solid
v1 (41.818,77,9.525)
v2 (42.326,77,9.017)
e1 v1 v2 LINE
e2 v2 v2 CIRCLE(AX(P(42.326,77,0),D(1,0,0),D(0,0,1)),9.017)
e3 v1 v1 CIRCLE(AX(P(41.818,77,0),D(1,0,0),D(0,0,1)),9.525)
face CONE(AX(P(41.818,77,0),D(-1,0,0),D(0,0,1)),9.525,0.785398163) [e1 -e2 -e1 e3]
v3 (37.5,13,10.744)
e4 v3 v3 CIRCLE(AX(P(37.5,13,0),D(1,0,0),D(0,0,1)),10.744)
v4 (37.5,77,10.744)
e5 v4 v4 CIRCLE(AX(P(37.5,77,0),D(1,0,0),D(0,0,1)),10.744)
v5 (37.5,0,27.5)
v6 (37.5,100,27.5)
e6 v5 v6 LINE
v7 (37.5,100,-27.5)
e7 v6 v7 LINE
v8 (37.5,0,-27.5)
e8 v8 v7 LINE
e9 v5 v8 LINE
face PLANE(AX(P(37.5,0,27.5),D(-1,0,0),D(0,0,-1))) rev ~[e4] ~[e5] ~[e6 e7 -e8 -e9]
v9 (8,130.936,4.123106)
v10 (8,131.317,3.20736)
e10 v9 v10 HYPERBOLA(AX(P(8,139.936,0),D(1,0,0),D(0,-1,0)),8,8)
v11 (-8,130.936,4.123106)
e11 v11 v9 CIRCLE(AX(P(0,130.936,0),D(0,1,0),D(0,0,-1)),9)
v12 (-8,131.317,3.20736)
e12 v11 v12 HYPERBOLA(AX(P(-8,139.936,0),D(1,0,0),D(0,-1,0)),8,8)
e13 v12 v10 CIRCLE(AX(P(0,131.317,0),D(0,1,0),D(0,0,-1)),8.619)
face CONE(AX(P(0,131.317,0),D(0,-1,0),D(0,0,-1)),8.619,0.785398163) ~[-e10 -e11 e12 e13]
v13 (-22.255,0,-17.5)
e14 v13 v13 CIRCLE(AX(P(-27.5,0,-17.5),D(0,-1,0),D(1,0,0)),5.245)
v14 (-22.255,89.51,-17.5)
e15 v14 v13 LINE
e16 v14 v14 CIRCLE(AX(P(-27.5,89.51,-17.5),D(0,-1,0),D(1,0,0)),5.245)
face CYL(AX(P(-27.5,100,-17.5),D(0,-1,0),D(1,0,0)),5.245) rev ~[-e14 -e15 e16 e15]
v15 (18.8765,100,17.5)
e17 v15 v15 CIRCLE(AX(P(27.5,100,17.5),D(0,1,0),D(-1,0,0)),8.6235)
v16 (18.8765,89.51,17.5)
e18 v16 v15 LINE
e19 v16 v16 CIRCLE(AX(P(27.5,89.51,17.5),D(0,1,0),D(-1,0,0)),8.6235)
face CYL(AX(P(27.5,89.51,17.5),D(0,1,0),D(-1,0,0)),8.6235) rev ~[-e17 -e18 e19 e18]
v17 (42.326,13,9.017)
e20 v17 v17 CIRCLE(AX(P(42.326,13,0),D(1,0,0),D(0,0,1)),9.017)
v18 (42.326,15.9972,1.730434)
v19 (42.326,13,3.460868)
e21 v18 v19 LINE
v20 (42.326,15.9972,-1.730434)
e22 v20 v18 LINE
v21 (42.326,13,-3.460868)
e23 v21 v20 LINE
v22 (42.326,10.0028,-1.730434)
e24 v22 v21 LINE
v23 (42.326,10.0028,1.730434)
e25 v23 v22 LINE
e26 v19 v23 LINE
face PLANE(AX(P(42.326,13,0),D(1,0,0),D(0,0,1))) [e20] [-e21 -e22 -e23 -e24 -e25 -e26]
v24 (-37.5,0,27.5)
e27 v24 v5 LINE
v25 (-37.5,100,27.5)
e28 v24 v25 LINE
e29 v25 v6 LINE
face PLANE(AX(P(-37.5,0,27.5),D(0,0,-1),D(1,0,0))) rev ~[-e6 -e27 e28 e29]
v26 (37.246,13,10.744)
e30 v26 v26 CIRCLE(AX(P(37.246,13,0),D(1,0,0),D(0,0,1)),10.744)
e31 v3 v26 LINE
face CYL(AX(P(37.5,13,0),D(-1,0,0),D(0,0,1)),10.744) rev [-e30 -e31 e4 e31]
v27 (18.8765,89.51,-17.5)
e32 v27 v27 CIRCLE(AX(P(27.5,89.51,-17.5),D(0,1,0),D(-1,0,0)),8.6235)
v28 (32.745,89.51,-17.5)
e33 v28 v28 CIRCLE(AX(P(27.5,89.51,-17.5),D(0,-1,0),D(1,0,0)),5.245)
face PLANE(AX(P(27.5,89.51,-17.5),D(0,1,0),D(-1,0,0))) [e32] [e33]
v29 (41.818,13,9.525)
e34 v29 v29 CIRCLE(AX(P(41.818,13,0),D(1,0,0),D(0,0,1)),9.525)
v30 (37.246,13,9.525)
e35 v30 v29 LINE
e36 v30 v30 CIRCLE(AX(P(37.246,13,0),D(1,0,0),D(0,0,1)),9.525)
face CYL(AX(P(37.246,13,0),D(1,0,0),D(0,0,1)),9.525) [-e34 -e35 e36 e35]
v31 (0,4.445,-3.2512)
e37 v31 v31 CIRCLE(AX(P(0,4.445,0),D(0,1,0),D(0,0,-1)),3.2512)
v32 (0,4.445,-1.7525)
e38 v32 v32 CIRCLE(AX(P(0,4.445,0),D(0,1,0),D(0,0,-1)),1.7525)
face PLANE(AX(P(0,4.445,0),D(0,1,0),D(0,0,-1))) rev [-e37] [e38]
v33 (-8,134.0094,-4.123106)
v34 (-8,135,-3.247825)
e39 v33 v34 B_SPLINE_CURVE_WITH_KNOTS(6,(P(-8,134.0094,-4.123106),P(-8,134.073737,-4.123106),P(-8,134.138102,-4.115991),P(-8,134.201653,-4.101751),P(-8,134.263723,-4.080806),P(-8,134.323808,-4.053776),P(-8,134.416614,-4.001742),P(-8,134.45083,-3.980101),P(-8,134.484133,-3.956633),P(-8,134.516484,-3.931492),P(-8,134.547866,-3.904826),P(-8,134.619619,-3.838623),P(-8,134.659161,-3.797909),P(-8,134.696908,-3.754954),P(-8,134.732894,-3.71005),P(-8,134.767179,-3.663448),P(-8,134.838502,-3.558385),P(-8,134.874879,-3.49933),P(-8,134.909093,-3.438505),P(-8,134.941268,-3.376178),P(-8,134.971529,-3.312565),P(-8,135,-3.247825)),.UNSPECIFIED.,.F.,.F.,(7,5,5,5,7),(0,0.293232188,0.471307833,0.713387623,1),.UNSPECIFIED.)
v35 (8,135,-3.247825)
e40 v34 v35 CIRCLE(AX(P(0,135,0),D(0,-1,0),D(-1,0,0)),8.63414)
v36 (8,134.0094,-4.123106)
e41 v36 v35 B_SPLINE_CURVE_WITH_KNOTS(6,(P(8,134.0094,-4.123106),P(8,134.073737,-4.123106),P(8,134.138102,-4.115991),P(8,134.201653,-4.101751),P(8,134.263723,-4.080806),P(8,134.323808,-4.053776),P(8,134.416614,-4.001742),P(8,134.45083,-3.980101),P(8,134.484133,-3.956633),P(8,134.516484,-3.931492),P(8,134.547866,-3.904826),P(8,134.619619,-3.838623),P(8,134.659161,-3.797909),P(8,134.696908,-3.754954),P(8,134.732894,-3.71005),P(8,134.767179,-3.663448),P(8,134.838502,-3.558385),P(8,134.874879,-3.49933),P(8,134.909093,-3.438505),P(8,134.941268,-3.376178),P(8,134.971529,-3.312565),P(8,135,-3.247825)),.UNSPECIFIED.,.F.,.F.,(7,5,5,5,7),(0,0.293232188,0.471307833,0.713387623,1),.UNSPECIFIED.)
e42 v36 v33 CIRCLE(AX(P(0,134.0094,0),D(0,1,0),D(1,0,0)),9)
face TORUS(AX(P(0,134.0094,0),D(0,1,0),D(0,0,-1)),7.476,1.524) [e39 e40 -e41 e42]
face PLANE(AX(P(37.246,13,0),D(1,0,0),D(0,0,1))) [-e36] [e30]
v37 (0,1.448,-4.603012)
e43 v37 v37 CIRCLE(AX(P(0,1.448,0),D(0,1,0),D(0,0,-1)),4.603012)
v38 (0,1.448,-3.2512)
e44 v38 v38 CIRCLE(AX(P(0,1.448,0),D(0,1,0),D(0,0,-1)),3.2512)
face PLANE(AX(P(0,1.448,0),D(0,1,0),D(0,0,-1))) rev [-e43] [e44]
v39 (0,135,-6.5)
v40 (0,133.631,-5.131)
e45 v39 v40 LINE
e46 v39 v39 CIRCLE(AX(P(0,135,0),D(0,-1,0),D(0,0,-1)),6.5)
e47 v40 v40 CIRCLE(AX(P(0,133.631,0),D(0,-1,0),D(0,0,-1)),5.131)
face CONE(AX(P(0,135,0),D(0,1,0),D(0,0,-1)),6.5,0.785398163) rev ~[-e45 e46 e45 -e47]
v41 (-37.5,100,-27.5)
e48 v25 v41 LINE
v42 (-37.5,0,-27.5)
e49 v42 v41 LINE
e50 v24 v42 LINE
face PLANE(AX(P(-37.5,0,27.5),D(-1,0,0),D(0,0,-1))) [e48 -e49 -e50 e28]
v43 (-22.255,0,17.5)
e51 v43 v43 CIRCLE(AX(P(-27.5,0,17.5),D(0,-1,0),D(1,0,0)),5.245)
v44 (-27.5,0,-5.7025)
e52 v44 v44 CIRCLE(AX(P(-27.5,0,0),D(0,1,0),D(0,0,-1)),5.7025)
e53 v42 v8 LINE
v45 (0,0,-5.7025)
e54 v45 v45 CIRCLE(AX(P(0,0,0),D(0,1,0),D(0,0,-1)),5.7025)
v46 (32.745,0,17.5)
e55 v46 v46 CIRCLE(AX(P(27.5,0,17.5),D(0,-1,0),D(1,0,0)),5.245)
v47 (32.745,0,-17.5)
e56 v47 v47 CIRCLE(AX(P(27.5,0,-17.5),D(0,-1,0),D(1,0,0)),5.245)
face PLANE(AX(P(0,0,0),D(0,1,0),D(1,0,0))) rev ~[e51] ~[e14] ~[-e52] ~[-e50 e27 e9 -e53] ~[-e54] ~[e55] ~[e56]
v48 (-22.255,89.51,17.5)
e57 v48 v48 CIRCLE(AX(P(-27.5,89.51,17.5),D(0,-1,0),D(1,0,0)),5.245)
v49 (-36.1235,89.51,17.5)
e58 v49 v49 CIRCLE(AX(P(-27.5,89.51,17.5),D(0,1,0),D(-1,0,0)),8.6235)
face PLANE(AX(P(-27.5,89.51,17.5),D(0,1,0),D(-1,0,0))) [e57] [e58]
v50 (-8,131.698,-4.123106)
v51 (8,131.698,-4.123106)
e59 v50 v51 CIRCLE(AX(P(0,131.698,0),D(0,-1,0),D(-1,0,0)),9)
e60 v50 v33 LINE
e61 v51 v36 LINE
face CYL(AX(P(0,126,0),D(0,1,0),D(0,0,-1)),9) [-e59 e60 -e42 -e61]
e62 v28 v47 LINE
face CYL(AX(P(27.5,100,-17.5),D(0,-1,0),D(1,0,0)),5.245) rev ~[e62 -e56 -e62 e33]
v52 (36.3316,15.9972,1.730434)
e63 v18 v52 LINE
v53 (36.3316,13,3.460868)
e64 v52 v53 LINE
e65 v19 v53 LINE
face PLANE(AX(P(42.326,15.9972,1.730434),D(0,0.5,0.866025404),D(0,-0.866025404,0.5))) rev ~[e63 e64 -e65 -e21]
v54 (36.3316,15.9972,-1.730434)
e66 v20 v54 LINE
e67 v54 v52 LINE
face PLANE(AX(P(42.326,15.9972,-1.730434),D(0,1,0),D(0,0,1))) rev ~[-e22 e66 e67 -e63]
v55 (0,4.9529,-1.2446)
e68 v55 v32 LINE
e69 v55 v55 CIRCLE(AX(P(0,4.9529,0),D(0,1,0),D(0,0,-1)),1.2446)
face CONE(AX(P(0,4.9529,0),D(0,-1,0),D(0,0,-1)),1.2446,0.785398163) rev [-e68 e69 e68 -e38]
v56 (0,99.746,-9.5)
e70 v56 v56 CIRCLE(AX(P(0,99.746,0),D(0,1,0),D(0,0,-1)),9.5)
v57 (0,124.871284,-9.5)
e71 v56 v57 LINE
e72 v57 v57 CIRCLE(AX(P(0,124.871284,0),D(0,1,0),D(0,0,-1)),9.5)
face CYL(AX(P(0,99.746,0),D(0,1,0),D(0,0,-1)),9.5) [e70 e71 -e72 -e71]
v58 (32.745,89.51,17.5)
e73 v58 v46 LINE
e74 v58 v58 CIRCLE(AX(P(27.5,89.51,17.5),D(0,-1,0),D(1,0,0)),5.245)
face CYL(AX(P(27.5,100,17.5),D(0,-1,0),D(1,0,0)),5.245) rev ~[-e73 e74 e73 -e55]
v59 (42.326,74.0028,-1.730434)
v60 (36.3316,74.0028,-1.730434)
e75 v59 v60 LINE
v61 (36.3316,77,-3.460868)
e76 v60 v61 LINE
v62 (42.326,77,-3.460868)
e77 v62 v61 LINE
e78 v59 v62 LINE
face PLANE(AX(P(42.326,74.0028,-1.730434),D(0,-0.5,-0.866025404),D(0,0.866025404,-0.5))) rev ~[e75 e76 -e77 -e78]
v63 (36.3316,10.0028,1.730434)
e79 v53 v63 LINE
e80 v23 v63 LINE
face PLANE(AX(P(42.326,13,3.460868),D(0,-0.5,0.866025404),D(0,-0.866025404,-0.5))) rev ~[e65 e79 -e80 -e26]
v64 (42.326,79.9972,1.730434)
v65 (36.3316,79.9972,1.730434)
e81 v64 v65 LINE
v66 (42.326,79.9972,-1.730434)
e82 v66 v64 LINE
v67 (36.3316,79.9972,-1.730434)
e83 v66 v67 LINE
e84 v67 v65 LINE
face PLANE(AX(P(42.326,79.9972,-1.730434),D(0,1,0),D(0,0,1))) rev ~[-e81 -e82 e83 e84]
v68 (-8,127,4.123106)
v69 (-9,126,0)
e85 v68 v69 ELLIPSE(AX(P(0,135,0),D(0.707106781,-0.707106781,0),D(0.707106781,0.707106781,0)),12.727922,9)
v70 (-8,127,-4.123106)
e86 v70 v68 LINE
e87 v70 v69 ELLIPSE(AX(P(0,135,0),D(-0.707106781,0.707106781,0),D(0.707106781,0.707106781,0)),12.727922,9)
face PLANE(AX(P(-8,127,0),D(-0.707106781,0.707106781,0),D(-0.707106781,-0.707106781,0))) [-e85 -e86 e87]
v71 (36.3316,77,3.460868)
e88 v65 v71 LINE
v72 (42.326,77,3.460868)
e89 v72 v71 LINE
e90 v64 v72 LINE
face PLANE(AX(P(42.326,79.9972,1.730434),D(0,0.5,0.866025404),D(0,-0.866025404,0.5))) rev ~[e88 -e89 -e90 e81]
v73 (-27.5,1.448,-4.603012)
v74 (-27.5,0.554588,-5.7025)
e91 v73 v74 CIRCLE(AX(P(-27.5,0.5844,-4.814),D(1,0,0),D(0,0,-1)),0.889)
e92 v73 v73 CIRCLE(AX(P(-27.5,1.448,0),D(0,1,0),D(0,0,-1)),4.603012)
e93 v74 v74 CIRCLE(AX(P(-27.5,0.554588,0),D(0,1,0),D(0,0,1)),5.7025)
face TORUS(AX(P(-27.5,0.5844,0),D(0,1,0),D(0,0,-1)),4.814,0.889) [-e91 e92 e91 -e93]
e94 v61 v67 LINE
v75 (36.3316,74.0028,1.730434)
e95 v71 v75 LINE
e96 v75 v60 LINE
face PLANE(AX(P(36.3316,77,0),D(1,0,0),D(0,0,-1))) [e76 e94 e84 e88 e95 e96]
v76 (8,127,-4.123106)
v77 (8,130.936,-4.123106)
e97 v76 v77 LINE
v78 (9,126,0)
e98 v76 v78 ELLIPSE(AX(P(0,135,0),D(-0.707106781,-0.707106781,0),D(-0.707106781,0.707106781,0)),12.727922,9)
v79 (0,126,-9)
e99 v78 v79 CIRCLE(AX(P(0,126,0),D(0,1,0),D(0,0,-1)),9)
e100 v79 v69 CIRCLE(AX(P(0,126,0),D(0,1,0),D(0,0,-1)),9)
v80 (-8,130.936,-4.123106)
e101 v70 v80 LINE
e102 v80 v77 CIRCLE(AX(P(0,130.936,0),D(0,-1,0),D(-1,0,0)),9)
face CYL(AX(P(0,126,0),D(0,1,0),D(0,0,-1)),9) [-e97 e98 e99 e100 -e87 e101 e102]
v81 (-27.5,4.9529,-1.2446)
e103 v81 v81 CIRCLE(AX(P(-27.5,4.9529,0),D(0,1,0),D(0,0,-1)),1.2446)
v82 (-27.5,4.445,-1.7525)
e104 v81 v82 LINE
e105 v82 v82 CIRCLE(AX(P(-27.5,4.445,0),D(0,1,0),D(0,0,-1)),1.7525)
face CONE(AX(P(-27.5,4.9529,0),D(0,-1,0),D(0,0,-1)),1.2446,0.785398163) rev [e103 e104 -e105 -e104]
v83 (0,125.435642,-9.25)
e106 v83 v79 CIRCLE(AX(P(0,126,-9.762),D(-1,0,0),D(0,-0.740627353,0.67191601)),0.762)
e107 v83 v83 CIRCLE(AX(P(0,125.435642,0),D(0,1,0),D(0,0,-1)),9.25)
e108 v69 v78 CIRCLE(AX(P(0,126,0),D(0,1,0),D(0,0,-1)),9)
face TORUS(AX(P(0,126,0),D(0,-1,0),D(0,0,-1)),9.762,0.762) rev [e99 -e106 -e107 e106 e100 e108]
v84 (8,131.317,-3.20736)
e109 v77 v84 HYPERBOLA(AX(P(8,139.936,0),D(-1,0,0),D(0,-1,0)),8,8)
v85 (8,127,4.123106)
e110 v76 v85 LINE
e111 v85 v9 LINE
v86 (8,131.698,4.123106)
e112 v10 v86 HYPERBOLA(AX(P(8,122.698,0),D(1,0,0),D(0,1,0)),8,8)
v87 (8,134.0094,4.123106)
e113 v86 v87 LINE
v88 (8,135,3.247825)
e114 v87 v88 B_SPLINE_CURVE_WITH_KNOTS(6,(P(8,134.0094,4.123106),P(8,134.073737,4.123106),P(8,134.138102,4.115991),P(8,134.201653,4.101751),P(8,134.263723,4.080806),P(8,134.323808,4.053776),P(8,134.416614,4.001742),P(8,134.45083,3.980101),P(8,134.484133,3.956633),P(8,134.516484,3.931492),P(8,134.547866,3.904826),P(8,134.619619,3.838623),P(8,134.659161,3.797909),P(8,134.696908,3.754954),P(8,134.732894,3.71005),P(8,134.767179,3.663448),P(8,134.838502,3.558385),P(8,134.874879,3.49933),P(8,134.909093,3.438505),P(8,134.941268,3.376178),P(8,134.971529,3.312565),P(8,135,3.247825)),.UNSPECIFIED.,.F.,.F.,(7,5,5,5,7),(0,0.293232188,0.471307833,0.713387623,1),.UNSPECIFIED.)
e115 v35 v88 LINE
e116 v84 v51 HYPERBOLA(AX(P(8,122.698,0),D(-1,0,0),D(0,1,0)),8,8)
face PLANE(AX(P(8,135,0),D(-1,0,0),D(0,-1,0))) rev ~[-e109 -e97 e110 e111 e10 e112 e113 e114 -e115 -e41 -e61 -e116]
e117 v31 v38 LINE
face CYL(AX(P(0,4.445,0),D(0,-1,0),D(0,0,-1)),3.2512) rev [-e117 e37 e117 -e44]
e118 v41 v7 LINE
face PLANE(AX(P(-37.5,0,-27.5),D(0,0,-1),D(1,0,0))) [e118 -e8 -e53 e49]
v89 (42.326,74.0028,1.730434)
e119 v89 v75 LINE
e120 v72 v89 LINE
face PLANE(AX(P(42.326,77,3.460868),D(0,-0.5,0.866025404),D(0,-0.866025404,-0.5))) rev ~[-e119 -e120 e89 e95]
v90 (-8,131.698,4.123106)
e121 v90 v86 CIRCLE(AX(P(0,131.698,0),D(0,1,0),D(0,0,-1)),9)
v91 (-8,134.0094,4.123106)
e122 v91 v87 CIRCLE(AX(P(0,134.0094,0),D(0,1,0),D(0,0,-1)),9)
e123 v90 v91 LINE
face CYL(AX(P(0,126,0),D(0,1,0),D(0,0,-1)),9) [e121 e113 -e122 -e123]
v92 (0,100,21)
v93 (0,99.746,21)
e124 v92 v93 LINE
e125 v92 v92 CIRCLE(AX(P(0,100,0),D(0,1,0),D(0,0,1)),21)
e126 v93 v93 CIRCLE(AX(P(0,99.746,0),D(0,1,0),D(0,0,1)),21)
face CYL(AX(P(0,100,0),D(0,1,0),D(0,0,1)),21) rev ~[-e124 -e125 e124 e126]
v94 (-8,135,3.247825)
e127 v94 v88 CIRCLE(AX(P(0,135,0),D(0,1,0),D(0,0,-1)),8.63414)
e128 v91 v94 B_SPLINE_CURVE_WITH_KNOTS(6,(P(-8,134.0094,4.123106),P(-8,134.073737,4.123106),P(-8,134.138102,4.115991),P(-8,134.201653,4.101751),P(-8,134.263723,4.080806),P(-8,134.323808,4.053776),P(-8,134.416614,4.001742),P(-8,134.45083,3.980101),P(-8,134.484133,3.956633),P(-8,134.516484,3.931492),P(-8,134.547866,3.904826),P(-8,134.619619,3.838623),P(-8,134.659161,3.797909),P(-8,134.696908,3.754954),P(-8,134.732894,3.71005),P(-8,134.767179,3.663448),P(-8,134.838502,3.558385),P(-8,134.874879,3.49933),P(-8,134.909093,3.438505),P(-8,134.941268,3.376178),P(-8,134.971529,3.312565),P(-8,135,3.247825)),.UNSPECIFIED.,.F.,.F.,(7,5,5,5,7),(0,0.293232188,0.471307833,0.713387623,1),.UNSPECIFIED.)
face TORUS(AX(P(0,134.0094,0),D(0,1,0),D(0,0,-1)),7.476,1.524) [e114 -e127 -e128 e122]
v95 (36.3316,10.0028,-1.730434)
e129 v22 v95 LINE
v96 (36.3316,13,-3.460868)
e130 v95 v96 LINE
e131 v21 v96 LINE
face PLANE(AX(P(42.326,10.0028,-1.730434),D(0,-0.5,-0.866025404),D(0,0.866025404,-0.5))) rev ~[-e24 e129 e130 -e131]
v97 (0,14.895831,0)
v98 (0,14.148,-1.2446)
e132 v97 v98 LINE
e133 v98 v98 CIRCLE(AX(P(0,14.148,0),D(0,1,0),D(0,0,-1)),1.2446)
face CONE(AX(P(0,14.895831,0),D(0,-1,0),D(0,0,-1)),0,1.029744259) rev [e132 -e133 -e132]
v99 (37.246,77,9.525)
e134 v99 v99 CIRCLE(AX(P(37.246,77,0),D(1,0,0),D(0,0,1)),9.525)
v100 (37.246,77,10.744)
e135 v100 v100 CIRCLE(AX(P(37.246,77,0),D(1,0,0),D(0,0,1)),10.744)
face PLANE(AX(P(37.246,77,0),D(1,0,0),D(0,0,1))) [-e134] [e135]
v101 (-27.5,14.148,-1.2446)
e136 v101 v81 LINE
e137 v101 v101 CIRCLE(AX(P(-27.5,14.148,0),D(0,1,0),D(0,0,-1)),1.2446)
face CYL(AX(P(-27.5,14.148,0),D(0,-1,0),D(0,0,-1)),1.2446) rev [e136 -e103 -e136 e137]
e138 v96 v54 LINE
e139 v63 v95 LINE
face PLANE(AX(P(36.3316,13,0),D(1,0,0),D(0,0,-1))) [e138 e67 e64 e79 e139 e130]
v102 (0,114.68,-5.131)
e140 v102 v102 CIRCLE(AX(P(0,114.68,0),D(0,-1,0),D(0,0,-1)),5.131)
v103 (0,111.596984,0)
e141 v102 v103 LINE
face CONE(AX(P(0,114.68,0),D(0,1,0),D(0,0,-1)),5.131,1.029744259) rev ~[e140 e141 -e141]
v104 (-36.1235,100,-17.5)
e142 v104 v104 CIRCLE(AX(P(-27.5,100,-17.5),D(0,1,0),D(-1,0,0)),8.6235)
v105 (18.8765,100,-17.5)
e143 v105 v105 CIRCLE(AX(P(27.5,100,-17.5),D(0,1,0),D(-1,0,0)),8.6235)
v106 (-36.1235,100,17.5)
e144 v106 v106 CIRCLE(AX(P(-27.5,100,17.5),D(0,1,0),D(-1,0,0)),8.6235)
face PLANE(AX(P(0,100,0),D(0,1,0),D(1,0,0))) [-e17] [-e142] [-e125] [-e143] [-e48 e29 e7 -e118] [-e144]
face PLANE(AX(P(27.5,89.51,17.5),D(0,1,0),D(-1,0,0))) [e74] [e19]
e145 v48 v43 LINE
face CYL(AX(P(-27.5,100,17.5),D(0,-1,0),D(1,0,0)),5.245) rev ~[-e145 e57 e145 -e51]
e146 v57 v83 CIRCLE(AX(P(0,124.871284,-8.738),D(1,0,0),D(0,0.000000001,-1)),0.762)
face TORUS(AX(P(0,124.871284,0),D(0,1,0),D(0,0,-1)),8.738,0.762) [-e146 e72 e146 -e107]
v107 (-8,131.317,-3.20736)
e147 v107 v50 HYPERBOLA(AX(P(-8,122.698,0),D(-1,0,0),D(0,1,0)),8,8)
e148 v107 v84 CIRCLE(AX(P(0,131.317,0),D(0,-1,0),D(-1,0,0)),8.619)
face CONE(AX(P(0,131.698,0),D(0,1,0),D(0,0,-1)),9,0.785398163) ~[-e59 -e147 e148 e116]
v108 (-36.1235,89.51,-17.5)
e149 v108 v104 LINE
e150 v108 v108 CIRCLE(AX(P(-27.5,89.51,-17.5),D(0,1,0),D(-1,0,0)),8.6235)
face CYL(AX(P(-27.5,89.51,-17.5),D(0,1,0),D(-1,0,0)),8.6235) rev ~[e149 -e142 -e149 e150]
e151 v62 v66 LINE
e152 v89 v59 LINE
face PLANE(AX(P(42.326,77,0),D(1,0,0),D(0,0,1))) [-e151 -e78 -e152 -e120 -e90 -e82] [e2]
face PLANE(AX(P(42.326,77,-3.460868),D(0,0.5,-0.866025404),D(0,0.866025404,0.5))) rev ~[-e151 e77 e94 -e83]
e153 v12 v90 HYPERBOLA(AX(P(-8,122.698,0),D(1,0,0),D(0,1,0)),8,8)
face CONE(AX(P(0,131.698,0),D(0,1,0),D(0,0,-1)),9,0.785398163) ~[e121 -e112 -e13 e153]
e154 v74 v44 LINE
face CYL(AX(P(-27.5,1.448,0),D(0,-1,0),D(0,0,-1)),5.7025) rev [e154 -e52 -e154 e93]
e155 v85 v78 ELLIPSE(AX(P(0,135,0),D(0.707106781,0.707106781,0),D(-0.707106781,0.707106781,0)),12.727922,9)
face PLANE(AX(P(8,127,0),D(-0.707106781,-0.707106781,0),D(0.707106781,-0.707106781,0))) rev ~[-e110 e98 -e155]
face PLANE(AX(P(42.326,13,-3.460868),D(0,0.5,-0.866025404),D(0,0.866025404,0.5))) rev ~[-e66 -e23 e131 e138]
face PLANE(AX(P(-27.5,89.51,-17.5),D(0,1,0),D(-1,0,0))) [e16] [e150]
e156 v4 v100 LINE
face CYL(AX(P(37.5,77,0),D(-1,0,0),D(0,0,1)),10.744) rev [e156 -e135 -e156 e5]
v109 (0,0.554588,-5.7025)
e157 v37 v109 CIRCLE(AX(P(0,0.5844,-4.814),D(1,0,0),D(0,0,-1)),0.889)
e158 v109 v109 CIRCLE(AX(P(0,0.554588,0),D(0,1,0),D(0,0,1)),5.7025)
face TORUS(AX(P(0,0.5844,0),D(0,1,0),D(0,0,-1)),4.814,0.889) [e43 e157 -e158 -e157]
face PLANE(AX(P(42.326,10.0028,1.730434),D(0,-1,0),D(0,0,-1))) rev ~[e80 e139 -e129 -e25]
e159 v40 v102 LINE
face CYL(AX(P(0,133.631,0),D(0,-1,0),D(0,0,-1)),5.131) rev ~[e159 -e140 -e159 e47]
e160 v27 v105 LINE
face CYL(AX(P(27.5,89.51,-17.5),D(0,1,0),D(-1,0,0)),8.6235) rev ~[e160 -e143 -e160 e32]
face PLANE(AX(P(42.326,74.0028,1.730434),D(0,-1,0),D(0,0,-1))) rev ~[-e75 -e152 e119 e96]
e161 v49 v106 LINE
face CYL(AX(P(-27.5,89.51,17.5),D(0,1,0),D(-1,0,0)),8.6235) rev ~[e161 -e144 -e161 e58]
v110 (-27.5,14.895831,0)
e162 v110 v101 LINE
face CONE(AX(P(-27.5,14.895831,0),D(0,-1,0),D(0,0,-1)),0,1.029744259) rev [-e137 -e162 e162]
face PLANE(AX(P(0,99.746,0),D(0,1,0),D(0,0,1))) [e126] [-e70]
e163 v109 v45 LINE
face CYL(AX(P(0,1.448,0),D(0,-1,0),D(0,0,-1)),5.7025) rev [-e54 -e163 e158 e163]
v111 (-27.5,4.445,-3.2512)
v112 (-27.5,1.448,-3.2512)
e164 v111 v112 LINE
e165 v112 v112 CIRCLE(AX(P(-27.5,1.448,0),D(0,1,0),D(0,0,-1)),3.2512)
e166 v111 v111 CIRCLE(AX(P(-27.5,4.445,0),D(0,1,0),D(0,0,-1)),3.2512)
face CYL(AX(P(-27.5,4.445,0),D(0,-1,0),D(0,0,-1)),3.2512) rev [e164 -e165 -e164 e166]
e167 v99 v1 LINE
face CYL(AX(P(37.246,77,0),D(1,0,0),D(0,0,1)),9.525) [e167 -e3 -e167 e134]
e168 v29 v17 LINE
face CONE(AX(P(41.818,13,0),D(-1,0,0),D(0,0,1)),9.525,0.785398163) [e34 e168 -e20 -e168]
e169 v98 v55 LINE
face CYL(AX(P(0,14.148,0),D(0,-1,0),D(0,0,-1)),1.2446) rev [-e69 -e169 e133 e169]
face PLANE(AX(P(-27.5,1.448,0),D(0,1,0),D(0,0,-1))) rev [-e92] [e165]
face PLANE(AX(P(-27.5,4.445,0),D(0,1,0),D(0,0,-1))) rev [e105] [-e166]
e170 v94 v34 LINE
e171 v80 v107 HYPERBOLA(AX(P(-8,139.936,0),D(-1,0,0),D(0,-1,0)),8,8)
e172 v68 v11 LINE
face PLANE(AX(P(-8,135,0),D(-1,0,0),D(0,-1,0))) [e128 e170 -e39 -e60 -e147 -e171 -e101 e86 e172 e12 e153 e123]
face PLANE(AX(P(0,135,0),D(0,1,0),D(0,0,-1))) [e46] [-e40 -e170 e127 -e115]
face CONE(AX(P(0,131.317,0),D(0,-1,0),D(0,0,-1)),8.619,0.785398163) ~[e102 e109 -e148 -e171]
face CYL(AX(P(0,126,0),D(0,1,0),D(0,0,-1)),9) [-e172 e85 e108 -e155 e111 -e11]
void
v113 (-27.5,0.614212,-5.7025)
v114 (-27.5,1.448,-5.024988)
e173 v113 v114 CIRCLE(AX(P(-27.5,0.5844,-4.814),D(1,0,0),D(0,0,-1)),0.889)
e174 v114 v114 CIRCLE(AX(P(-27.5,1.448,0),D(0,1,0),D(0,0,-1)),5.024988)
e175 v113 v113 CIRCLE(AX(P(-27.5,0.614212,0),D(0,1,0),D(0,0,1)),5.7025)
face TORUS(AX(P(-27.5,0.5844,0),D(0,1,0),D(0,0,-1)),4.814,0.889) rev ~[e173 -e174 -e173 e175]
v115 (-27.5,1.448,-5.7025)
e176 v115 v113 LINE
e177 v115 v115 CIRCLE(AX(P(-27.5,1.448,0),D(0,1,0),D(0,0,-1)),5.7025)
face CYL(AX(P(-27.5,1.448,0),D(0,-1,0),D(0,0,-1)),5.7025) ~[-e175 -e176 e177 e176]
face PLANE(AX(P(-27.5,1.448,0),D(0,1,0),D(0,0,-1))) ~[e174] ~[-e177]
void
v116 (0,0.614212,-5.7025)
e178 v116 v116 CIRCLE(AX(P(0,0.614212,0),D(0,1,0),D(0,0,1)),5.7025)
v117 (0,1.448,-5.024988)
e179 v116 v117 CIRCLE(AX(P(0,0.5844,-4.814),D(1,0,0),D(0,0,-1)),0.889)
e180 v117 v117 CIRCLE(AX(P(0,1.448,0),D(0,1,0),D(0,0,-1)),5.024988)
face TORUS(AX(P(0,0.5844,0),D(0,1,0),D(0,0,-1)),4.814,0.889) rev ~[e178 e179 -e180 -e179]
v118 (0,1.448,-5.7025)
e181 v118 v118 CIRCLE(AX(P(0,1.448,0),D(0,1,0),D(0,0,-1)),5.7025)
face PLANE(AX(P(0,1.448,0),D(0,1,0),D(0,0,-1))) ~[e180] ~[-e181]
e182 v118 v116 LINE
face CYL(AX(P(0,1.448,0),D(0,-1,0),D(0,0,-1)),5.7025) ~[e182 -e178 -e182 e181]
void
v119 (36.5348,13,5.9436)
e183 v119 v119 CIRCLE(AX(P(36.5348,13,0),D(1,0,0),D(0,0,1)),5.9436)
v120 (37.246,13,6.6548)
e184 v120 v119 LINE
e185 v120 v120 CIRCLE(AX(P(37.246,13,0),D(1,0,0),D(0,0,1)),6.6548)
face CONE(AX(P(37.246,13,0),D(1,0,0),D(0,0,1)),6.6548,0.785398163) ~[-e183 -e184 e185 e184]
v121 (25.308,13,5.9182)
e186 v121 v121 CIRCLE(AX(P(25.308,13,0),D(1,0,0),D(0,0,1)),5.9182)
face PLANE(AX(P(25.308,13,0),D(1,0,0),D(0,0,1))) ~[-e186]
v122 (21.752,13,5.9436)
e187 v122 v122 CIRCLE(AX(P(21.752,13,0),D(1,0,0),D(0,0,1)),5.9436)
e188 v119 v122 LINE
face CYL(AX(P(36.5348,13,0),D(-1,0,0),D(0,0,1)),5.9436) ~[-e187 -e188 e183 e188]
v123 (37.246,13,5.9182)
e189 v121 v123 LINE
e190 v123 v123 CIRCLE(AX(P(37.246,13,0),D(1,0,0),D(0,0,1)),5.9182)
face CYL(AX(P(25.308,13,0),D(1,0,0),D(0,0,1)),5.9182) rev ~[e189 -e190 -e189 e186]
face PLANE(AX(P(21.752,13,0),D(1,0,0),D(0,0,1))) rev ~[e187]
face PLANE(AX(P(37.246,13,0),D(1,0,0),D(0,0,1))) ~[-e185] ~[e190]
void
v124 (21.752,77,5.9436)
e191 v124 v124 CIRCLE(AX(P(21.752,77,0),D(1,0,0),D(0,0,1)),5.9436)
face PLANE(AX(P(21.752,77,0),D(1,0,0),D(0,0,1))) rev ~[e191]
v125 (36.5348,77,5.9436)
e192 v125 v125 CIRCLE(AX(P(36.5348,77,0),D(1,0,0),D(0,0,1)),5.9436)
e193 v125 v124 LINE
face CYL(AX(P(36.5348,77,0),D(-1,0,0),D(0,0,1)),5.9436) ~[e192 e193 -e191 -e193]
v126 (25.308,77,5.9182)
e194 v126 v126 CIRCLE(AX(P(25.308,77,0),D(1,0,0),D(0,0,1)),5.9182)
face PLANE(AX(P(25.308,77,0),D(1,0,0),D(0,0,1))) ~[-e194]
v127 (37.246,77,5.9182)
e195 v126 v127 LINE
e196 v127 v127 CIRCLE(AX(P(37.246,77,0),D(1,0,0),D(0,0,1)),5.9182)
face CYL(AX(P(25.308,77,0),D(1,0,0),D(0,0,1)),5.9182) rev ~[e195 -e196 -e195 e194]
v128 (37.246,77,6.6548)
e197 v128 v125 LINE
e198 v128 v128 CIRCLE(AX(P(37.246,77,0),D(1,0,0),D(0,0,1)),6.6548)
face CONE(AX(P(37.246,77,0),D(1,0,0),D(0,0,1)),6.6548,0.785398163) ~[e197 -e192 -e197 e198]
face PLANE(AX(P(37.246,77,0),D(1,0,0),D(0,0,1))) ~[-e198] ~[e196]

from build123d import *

# Parameters (mm, degrees)
SKETCH1_W                  = 75
SKETCH1_H                  = 55
EXTRUDE1_DEPTH             = 100
SKETCH2_R                  = 21
CUT_EXTRUDE1_DEPTH         = 0.254
CHAMFER1_SIZE              = 0.508
CUT_EXTRUDE2_DEPTH         = 5.9944
LPATTERN1_COUNT            = 2
LPATTERN1_PITCH            = 64
CHAMFER1_OF_LPATTERN1_SIZE = 0.508
SKETCH7_R                  = 0.889
LPATTERN2_COUNT            = 2
LPATTERN2_PITCH            = 27.5
CUT_EXTRUDE3_DEPTH         = 28.5
CUT_EXTRUDE3_DEPTH_BACK    = 28.5
HOLE1_D                    = 10.49
HOLE1_CBORE_D              = 17.247
HOLE1_CBORE_DEPTH          = 10.49


with BuildPart() as part:
    # Sketch1 → Extrude1 (new body)
    with BuildSketch(Plane(origin=(0, 0, 0), x_dir=(1, 0, 0), z_dir=(0, 1, 0))):
        Rectangle(SKETCH1_W, SKETCH1_H)
    extrude(amount=EXTRUDE1_DEPTH)

    # Sketch2 → Cut-Extrude1 (cut)
    with BuildSketch(Plane(origin=(0, 100, 0), x_dir=(1, 0, 0), z_dir=(0, 1, 0))):
        with Locations(Location((0, 0, 0), (0, 0, 270))):  # turned: the seam where the file's is
            Circle(SKETCH2_R)
    extrude(amount=-CUT_EXTRUDE1_DEPTH, mode=Mode.SUBTRACT)

    # Sketch3 → Cut-Revolve1 (revolve, cut)
    with BuildSketch(Plane.XY, mode=Mode.PRIVATE) as cut_revolve1_sk:
        Polygon((37.5, 77), (37.5, 66.256), (37.246, 66.256), (37.246, 70.3452), (36.5348, 71.0564), (21.752, 71.0564), (21.752, 77), align=None)
    cut_revolve1 = revolve(cut_revolve1_sk.sketch.rotate(Axis((-6.847979502, 77, 0), (1, 0, 0)), 270), axis=Axis((-6.847979502, 77, 0), (1, 0, 0)), mode=Mode.SUBTRACT)  # turned: the seam where the file's is

    # Sketch4 → Revolve1 (revolve)
    with BuildSketch(Plane.XY, mode=Mode.PRIVATE) as revolve1_sk:
        Polygon((25.308, 77), (25.308, 82.9182), (37.246, 82.9182), (37.246, 86.525), (42.326, 86.525), (42.326, 77), align=None)
    revolve1 = revolve(revolve1_sk.sketch.rotate(Axis((8.732572807, 77, 0), (1, 0, 0)), 90), axis=Axis((8.732572807, 77, 0), (1, 0, 0)))  # turned: the seam where the file's is

    # Chamfer1
    chamfer1_edges = [part.edges().sort_by_distance(p)[0] for p in [
        (42.326, 77, -9.525),
    ]]
    chamfer(chamfer1_edges, length=CHAMFER1_SIZE)

    # Sketch5 → Cut-Extrude2 (cut)
    with BuildSketch(Plane(origin=(42.326, 0, 0), x_dir=(0, 0, -1), z_dir=(1, 0, 0))):
        Polygon((1.730434227, 79.9972), (-1.730434227, 79.9972), (-3.460868454, 77), (-1.730434227, 74.0028), (1.730434227, 74.0028), (3.460868454, 77), align=None)
    cut_extrude2 = extrude(amount=-CUT_EXTRUDE2_DEPTH, mode=Mode.SUBTRACT)

    # LPattern1: Cut-Revolve1, Revolve1, Cut-Extrude2 ×2
    with Locations(*[(0, -i * LPATTERN1_PITCH, 0) for i in range(1, LPATTERN1_COUNT)]):
        add(cut_revolve1, mode=Mode.SUBTRACT)
        add(revolve1)
        add(cut_extrude2, mode=Mode.SUBTRACT)

    # Chamfer1 of LPattern1
    chamfer1_of_lpattern1_edges = [part.edges().sort_by_distance(p)[0] for p in [
        (42.326, 13, -9.525),
    ]]
    chamfer(chamfer1_of_lpattern1_edges, length=CHAMFER1_OF_LPATTERN1_SIZE)

    # Sketch6 → Cut-Revolve2 (revolve, cut)
    with BuildSketch(Plane.XY, mode=Mode.PRIVATE) as cut_revolve2_sk:
        Polygon((0, 0), (0, 14.895831126), (1.2446, 14.148), (1.2446, 4.9529), (1.7525, 4.445), (3.2512, 4.445), (3.2512, 1.448), (5.7025, 1.448), (5.7025, 0), align=None)
    cut_revolve2 = revolve(cut_revolve2_sk.sketch.rotate(Axis((0, 0, 0), (0, 1, 0)), 90), axis=Axis((0, 0, 0), (0, 1, 0)), mode=Mode.SUBTRACT)  # turned: the seam where the file's is

    # Sketch7 → Revolve3 (revolve)
    with BuildSketch(Plane.XY, mode=Mode.PRIVATE) as revolve3_sk:
        with Locations((4.814, 0.5844)):
            Circle(SKETCH7_R)
    revolve3 = revolve(revolve3_sk.sketch.rotate(Axis((0, 0, 0), (0, 1, 0)), 90), axis=Axis((0, 0, 0), (0, 1, 0)))  # turned: the seam where the file's is

    # LPattern2: Cut-Revolve2, Revolve3 ×2
    with Locations(*[(-i * LPATTERN2_PITCH, 0, 0) for i in range(1, LPATTERN2_COUNT)]):
        add(cut_revolve2, mode=Mode.SUBTRACT)
        add(revolve3)

    # Sketch8 → Revolve4 (revolve)
    with BuildSketch(Plane.XY, mode=Mode.PRIVATE) as revolve4_sk:
        with BuildLine():
            Line((9.5, 99.746), (9.5, 124.871283915))
            ThreePointArc((9.5, 124.871283915), (9.434702232, 125.179909902), (9.25, 125.435641958))
            ThreePointArc((9.25, 125.435641958), (9.065297768, 125.691374013), (9, 126))
            Line((9, 126), (9, 134.0094))
            ThreePointArc((9, 134.0094), (8.905612002, 134.537401443), (8.634139733, 135))
            Line((8.634139733, 135), (0, 135))
            Line((0, 135), (0, 99.746))
            Line((0, 99.746), (9.5, 99.746))
        make_face()
    revolve(revolve4_sk.sketch.rotate(Axis((0, 0, 0), (0, 1, 0)), 90), axis=Axis((0, 0, 0), (0, 1, 0)))  # turned: the seam where the file's is

    # Sketch10 → Cut-Revolve3 (revolve, cut)
    with BuildSketch(Plane.XY, mode=Mode.PRIVATE) as cut_revolve3_sk:
        Polygon((6.5, 135), (5.131, 133.631), (5.131, 114.68), (0, 111.596984164), (0, 135), align=None)
    revolve(cut_revolve3_sk.sketch.rotate(Axis((0, 135, 0), (0, -1, 0)), 270), axis=Axis((0, 135, 0), (0, -1, 0)), mode=Mode.SUBTRACT)  # turned: the seam where the file's is

    # Sketch11 → Cut-Revolve4 (revolve, cut)
    with BuildSketch(Plane.XY, mode=Mode.PRIVATE) as cut_revolve4_sk:
        Polygon((9, 131.698), (8.619, 131.317), (9, 130.936), align=None)
    revolve(cut_revolve4_sk.sketch.rotate(Axis((0, 0, 0), (0, 1, 0)), 90), axis=Axis((0, 0, 0), (0, 1, 0)), mode=Mode.SUBTRACT)  # turned: the seam where the file's is

    # Sketch12 → Cut-Extrude3 (cut, two sides)
    with BuildSketch(Plane.XY) as cut_extrude3_sk:
        Polygon((8, 135), (8, 127), (9.5, 125.5), (9.5, 135), align=None)
        Polygon((-9.5, 135), (-8, 135), (-8, 127), (-9.5, 125.5), align=None)
    extrude(amount=CUT_EXTRUDE3_DEPTH, mode=Mode.SUBTRACT)
    extrude(cut_extrude3_sk.sketch, amount=-CUT_EXTRUDE3_DEPTH_BACK, mode=Mode.SUBTRACT)

    # Hole1 (through all)
    with Locations(Plane(origin=(0, 100, 0), x_dir=(-1, 0, 0), z_dir=(0, 1, 0))):
        with Locations((27.5, 17.5), (27.5, -17.5), (-27.5, -17.5), (-27.5, 17.5)):
            CounterBoreHole(HOLE1_D / 2, HOLE1_CBORE_D / 2, HOLE1_CBORE_DEPTH)


solid = part.part
